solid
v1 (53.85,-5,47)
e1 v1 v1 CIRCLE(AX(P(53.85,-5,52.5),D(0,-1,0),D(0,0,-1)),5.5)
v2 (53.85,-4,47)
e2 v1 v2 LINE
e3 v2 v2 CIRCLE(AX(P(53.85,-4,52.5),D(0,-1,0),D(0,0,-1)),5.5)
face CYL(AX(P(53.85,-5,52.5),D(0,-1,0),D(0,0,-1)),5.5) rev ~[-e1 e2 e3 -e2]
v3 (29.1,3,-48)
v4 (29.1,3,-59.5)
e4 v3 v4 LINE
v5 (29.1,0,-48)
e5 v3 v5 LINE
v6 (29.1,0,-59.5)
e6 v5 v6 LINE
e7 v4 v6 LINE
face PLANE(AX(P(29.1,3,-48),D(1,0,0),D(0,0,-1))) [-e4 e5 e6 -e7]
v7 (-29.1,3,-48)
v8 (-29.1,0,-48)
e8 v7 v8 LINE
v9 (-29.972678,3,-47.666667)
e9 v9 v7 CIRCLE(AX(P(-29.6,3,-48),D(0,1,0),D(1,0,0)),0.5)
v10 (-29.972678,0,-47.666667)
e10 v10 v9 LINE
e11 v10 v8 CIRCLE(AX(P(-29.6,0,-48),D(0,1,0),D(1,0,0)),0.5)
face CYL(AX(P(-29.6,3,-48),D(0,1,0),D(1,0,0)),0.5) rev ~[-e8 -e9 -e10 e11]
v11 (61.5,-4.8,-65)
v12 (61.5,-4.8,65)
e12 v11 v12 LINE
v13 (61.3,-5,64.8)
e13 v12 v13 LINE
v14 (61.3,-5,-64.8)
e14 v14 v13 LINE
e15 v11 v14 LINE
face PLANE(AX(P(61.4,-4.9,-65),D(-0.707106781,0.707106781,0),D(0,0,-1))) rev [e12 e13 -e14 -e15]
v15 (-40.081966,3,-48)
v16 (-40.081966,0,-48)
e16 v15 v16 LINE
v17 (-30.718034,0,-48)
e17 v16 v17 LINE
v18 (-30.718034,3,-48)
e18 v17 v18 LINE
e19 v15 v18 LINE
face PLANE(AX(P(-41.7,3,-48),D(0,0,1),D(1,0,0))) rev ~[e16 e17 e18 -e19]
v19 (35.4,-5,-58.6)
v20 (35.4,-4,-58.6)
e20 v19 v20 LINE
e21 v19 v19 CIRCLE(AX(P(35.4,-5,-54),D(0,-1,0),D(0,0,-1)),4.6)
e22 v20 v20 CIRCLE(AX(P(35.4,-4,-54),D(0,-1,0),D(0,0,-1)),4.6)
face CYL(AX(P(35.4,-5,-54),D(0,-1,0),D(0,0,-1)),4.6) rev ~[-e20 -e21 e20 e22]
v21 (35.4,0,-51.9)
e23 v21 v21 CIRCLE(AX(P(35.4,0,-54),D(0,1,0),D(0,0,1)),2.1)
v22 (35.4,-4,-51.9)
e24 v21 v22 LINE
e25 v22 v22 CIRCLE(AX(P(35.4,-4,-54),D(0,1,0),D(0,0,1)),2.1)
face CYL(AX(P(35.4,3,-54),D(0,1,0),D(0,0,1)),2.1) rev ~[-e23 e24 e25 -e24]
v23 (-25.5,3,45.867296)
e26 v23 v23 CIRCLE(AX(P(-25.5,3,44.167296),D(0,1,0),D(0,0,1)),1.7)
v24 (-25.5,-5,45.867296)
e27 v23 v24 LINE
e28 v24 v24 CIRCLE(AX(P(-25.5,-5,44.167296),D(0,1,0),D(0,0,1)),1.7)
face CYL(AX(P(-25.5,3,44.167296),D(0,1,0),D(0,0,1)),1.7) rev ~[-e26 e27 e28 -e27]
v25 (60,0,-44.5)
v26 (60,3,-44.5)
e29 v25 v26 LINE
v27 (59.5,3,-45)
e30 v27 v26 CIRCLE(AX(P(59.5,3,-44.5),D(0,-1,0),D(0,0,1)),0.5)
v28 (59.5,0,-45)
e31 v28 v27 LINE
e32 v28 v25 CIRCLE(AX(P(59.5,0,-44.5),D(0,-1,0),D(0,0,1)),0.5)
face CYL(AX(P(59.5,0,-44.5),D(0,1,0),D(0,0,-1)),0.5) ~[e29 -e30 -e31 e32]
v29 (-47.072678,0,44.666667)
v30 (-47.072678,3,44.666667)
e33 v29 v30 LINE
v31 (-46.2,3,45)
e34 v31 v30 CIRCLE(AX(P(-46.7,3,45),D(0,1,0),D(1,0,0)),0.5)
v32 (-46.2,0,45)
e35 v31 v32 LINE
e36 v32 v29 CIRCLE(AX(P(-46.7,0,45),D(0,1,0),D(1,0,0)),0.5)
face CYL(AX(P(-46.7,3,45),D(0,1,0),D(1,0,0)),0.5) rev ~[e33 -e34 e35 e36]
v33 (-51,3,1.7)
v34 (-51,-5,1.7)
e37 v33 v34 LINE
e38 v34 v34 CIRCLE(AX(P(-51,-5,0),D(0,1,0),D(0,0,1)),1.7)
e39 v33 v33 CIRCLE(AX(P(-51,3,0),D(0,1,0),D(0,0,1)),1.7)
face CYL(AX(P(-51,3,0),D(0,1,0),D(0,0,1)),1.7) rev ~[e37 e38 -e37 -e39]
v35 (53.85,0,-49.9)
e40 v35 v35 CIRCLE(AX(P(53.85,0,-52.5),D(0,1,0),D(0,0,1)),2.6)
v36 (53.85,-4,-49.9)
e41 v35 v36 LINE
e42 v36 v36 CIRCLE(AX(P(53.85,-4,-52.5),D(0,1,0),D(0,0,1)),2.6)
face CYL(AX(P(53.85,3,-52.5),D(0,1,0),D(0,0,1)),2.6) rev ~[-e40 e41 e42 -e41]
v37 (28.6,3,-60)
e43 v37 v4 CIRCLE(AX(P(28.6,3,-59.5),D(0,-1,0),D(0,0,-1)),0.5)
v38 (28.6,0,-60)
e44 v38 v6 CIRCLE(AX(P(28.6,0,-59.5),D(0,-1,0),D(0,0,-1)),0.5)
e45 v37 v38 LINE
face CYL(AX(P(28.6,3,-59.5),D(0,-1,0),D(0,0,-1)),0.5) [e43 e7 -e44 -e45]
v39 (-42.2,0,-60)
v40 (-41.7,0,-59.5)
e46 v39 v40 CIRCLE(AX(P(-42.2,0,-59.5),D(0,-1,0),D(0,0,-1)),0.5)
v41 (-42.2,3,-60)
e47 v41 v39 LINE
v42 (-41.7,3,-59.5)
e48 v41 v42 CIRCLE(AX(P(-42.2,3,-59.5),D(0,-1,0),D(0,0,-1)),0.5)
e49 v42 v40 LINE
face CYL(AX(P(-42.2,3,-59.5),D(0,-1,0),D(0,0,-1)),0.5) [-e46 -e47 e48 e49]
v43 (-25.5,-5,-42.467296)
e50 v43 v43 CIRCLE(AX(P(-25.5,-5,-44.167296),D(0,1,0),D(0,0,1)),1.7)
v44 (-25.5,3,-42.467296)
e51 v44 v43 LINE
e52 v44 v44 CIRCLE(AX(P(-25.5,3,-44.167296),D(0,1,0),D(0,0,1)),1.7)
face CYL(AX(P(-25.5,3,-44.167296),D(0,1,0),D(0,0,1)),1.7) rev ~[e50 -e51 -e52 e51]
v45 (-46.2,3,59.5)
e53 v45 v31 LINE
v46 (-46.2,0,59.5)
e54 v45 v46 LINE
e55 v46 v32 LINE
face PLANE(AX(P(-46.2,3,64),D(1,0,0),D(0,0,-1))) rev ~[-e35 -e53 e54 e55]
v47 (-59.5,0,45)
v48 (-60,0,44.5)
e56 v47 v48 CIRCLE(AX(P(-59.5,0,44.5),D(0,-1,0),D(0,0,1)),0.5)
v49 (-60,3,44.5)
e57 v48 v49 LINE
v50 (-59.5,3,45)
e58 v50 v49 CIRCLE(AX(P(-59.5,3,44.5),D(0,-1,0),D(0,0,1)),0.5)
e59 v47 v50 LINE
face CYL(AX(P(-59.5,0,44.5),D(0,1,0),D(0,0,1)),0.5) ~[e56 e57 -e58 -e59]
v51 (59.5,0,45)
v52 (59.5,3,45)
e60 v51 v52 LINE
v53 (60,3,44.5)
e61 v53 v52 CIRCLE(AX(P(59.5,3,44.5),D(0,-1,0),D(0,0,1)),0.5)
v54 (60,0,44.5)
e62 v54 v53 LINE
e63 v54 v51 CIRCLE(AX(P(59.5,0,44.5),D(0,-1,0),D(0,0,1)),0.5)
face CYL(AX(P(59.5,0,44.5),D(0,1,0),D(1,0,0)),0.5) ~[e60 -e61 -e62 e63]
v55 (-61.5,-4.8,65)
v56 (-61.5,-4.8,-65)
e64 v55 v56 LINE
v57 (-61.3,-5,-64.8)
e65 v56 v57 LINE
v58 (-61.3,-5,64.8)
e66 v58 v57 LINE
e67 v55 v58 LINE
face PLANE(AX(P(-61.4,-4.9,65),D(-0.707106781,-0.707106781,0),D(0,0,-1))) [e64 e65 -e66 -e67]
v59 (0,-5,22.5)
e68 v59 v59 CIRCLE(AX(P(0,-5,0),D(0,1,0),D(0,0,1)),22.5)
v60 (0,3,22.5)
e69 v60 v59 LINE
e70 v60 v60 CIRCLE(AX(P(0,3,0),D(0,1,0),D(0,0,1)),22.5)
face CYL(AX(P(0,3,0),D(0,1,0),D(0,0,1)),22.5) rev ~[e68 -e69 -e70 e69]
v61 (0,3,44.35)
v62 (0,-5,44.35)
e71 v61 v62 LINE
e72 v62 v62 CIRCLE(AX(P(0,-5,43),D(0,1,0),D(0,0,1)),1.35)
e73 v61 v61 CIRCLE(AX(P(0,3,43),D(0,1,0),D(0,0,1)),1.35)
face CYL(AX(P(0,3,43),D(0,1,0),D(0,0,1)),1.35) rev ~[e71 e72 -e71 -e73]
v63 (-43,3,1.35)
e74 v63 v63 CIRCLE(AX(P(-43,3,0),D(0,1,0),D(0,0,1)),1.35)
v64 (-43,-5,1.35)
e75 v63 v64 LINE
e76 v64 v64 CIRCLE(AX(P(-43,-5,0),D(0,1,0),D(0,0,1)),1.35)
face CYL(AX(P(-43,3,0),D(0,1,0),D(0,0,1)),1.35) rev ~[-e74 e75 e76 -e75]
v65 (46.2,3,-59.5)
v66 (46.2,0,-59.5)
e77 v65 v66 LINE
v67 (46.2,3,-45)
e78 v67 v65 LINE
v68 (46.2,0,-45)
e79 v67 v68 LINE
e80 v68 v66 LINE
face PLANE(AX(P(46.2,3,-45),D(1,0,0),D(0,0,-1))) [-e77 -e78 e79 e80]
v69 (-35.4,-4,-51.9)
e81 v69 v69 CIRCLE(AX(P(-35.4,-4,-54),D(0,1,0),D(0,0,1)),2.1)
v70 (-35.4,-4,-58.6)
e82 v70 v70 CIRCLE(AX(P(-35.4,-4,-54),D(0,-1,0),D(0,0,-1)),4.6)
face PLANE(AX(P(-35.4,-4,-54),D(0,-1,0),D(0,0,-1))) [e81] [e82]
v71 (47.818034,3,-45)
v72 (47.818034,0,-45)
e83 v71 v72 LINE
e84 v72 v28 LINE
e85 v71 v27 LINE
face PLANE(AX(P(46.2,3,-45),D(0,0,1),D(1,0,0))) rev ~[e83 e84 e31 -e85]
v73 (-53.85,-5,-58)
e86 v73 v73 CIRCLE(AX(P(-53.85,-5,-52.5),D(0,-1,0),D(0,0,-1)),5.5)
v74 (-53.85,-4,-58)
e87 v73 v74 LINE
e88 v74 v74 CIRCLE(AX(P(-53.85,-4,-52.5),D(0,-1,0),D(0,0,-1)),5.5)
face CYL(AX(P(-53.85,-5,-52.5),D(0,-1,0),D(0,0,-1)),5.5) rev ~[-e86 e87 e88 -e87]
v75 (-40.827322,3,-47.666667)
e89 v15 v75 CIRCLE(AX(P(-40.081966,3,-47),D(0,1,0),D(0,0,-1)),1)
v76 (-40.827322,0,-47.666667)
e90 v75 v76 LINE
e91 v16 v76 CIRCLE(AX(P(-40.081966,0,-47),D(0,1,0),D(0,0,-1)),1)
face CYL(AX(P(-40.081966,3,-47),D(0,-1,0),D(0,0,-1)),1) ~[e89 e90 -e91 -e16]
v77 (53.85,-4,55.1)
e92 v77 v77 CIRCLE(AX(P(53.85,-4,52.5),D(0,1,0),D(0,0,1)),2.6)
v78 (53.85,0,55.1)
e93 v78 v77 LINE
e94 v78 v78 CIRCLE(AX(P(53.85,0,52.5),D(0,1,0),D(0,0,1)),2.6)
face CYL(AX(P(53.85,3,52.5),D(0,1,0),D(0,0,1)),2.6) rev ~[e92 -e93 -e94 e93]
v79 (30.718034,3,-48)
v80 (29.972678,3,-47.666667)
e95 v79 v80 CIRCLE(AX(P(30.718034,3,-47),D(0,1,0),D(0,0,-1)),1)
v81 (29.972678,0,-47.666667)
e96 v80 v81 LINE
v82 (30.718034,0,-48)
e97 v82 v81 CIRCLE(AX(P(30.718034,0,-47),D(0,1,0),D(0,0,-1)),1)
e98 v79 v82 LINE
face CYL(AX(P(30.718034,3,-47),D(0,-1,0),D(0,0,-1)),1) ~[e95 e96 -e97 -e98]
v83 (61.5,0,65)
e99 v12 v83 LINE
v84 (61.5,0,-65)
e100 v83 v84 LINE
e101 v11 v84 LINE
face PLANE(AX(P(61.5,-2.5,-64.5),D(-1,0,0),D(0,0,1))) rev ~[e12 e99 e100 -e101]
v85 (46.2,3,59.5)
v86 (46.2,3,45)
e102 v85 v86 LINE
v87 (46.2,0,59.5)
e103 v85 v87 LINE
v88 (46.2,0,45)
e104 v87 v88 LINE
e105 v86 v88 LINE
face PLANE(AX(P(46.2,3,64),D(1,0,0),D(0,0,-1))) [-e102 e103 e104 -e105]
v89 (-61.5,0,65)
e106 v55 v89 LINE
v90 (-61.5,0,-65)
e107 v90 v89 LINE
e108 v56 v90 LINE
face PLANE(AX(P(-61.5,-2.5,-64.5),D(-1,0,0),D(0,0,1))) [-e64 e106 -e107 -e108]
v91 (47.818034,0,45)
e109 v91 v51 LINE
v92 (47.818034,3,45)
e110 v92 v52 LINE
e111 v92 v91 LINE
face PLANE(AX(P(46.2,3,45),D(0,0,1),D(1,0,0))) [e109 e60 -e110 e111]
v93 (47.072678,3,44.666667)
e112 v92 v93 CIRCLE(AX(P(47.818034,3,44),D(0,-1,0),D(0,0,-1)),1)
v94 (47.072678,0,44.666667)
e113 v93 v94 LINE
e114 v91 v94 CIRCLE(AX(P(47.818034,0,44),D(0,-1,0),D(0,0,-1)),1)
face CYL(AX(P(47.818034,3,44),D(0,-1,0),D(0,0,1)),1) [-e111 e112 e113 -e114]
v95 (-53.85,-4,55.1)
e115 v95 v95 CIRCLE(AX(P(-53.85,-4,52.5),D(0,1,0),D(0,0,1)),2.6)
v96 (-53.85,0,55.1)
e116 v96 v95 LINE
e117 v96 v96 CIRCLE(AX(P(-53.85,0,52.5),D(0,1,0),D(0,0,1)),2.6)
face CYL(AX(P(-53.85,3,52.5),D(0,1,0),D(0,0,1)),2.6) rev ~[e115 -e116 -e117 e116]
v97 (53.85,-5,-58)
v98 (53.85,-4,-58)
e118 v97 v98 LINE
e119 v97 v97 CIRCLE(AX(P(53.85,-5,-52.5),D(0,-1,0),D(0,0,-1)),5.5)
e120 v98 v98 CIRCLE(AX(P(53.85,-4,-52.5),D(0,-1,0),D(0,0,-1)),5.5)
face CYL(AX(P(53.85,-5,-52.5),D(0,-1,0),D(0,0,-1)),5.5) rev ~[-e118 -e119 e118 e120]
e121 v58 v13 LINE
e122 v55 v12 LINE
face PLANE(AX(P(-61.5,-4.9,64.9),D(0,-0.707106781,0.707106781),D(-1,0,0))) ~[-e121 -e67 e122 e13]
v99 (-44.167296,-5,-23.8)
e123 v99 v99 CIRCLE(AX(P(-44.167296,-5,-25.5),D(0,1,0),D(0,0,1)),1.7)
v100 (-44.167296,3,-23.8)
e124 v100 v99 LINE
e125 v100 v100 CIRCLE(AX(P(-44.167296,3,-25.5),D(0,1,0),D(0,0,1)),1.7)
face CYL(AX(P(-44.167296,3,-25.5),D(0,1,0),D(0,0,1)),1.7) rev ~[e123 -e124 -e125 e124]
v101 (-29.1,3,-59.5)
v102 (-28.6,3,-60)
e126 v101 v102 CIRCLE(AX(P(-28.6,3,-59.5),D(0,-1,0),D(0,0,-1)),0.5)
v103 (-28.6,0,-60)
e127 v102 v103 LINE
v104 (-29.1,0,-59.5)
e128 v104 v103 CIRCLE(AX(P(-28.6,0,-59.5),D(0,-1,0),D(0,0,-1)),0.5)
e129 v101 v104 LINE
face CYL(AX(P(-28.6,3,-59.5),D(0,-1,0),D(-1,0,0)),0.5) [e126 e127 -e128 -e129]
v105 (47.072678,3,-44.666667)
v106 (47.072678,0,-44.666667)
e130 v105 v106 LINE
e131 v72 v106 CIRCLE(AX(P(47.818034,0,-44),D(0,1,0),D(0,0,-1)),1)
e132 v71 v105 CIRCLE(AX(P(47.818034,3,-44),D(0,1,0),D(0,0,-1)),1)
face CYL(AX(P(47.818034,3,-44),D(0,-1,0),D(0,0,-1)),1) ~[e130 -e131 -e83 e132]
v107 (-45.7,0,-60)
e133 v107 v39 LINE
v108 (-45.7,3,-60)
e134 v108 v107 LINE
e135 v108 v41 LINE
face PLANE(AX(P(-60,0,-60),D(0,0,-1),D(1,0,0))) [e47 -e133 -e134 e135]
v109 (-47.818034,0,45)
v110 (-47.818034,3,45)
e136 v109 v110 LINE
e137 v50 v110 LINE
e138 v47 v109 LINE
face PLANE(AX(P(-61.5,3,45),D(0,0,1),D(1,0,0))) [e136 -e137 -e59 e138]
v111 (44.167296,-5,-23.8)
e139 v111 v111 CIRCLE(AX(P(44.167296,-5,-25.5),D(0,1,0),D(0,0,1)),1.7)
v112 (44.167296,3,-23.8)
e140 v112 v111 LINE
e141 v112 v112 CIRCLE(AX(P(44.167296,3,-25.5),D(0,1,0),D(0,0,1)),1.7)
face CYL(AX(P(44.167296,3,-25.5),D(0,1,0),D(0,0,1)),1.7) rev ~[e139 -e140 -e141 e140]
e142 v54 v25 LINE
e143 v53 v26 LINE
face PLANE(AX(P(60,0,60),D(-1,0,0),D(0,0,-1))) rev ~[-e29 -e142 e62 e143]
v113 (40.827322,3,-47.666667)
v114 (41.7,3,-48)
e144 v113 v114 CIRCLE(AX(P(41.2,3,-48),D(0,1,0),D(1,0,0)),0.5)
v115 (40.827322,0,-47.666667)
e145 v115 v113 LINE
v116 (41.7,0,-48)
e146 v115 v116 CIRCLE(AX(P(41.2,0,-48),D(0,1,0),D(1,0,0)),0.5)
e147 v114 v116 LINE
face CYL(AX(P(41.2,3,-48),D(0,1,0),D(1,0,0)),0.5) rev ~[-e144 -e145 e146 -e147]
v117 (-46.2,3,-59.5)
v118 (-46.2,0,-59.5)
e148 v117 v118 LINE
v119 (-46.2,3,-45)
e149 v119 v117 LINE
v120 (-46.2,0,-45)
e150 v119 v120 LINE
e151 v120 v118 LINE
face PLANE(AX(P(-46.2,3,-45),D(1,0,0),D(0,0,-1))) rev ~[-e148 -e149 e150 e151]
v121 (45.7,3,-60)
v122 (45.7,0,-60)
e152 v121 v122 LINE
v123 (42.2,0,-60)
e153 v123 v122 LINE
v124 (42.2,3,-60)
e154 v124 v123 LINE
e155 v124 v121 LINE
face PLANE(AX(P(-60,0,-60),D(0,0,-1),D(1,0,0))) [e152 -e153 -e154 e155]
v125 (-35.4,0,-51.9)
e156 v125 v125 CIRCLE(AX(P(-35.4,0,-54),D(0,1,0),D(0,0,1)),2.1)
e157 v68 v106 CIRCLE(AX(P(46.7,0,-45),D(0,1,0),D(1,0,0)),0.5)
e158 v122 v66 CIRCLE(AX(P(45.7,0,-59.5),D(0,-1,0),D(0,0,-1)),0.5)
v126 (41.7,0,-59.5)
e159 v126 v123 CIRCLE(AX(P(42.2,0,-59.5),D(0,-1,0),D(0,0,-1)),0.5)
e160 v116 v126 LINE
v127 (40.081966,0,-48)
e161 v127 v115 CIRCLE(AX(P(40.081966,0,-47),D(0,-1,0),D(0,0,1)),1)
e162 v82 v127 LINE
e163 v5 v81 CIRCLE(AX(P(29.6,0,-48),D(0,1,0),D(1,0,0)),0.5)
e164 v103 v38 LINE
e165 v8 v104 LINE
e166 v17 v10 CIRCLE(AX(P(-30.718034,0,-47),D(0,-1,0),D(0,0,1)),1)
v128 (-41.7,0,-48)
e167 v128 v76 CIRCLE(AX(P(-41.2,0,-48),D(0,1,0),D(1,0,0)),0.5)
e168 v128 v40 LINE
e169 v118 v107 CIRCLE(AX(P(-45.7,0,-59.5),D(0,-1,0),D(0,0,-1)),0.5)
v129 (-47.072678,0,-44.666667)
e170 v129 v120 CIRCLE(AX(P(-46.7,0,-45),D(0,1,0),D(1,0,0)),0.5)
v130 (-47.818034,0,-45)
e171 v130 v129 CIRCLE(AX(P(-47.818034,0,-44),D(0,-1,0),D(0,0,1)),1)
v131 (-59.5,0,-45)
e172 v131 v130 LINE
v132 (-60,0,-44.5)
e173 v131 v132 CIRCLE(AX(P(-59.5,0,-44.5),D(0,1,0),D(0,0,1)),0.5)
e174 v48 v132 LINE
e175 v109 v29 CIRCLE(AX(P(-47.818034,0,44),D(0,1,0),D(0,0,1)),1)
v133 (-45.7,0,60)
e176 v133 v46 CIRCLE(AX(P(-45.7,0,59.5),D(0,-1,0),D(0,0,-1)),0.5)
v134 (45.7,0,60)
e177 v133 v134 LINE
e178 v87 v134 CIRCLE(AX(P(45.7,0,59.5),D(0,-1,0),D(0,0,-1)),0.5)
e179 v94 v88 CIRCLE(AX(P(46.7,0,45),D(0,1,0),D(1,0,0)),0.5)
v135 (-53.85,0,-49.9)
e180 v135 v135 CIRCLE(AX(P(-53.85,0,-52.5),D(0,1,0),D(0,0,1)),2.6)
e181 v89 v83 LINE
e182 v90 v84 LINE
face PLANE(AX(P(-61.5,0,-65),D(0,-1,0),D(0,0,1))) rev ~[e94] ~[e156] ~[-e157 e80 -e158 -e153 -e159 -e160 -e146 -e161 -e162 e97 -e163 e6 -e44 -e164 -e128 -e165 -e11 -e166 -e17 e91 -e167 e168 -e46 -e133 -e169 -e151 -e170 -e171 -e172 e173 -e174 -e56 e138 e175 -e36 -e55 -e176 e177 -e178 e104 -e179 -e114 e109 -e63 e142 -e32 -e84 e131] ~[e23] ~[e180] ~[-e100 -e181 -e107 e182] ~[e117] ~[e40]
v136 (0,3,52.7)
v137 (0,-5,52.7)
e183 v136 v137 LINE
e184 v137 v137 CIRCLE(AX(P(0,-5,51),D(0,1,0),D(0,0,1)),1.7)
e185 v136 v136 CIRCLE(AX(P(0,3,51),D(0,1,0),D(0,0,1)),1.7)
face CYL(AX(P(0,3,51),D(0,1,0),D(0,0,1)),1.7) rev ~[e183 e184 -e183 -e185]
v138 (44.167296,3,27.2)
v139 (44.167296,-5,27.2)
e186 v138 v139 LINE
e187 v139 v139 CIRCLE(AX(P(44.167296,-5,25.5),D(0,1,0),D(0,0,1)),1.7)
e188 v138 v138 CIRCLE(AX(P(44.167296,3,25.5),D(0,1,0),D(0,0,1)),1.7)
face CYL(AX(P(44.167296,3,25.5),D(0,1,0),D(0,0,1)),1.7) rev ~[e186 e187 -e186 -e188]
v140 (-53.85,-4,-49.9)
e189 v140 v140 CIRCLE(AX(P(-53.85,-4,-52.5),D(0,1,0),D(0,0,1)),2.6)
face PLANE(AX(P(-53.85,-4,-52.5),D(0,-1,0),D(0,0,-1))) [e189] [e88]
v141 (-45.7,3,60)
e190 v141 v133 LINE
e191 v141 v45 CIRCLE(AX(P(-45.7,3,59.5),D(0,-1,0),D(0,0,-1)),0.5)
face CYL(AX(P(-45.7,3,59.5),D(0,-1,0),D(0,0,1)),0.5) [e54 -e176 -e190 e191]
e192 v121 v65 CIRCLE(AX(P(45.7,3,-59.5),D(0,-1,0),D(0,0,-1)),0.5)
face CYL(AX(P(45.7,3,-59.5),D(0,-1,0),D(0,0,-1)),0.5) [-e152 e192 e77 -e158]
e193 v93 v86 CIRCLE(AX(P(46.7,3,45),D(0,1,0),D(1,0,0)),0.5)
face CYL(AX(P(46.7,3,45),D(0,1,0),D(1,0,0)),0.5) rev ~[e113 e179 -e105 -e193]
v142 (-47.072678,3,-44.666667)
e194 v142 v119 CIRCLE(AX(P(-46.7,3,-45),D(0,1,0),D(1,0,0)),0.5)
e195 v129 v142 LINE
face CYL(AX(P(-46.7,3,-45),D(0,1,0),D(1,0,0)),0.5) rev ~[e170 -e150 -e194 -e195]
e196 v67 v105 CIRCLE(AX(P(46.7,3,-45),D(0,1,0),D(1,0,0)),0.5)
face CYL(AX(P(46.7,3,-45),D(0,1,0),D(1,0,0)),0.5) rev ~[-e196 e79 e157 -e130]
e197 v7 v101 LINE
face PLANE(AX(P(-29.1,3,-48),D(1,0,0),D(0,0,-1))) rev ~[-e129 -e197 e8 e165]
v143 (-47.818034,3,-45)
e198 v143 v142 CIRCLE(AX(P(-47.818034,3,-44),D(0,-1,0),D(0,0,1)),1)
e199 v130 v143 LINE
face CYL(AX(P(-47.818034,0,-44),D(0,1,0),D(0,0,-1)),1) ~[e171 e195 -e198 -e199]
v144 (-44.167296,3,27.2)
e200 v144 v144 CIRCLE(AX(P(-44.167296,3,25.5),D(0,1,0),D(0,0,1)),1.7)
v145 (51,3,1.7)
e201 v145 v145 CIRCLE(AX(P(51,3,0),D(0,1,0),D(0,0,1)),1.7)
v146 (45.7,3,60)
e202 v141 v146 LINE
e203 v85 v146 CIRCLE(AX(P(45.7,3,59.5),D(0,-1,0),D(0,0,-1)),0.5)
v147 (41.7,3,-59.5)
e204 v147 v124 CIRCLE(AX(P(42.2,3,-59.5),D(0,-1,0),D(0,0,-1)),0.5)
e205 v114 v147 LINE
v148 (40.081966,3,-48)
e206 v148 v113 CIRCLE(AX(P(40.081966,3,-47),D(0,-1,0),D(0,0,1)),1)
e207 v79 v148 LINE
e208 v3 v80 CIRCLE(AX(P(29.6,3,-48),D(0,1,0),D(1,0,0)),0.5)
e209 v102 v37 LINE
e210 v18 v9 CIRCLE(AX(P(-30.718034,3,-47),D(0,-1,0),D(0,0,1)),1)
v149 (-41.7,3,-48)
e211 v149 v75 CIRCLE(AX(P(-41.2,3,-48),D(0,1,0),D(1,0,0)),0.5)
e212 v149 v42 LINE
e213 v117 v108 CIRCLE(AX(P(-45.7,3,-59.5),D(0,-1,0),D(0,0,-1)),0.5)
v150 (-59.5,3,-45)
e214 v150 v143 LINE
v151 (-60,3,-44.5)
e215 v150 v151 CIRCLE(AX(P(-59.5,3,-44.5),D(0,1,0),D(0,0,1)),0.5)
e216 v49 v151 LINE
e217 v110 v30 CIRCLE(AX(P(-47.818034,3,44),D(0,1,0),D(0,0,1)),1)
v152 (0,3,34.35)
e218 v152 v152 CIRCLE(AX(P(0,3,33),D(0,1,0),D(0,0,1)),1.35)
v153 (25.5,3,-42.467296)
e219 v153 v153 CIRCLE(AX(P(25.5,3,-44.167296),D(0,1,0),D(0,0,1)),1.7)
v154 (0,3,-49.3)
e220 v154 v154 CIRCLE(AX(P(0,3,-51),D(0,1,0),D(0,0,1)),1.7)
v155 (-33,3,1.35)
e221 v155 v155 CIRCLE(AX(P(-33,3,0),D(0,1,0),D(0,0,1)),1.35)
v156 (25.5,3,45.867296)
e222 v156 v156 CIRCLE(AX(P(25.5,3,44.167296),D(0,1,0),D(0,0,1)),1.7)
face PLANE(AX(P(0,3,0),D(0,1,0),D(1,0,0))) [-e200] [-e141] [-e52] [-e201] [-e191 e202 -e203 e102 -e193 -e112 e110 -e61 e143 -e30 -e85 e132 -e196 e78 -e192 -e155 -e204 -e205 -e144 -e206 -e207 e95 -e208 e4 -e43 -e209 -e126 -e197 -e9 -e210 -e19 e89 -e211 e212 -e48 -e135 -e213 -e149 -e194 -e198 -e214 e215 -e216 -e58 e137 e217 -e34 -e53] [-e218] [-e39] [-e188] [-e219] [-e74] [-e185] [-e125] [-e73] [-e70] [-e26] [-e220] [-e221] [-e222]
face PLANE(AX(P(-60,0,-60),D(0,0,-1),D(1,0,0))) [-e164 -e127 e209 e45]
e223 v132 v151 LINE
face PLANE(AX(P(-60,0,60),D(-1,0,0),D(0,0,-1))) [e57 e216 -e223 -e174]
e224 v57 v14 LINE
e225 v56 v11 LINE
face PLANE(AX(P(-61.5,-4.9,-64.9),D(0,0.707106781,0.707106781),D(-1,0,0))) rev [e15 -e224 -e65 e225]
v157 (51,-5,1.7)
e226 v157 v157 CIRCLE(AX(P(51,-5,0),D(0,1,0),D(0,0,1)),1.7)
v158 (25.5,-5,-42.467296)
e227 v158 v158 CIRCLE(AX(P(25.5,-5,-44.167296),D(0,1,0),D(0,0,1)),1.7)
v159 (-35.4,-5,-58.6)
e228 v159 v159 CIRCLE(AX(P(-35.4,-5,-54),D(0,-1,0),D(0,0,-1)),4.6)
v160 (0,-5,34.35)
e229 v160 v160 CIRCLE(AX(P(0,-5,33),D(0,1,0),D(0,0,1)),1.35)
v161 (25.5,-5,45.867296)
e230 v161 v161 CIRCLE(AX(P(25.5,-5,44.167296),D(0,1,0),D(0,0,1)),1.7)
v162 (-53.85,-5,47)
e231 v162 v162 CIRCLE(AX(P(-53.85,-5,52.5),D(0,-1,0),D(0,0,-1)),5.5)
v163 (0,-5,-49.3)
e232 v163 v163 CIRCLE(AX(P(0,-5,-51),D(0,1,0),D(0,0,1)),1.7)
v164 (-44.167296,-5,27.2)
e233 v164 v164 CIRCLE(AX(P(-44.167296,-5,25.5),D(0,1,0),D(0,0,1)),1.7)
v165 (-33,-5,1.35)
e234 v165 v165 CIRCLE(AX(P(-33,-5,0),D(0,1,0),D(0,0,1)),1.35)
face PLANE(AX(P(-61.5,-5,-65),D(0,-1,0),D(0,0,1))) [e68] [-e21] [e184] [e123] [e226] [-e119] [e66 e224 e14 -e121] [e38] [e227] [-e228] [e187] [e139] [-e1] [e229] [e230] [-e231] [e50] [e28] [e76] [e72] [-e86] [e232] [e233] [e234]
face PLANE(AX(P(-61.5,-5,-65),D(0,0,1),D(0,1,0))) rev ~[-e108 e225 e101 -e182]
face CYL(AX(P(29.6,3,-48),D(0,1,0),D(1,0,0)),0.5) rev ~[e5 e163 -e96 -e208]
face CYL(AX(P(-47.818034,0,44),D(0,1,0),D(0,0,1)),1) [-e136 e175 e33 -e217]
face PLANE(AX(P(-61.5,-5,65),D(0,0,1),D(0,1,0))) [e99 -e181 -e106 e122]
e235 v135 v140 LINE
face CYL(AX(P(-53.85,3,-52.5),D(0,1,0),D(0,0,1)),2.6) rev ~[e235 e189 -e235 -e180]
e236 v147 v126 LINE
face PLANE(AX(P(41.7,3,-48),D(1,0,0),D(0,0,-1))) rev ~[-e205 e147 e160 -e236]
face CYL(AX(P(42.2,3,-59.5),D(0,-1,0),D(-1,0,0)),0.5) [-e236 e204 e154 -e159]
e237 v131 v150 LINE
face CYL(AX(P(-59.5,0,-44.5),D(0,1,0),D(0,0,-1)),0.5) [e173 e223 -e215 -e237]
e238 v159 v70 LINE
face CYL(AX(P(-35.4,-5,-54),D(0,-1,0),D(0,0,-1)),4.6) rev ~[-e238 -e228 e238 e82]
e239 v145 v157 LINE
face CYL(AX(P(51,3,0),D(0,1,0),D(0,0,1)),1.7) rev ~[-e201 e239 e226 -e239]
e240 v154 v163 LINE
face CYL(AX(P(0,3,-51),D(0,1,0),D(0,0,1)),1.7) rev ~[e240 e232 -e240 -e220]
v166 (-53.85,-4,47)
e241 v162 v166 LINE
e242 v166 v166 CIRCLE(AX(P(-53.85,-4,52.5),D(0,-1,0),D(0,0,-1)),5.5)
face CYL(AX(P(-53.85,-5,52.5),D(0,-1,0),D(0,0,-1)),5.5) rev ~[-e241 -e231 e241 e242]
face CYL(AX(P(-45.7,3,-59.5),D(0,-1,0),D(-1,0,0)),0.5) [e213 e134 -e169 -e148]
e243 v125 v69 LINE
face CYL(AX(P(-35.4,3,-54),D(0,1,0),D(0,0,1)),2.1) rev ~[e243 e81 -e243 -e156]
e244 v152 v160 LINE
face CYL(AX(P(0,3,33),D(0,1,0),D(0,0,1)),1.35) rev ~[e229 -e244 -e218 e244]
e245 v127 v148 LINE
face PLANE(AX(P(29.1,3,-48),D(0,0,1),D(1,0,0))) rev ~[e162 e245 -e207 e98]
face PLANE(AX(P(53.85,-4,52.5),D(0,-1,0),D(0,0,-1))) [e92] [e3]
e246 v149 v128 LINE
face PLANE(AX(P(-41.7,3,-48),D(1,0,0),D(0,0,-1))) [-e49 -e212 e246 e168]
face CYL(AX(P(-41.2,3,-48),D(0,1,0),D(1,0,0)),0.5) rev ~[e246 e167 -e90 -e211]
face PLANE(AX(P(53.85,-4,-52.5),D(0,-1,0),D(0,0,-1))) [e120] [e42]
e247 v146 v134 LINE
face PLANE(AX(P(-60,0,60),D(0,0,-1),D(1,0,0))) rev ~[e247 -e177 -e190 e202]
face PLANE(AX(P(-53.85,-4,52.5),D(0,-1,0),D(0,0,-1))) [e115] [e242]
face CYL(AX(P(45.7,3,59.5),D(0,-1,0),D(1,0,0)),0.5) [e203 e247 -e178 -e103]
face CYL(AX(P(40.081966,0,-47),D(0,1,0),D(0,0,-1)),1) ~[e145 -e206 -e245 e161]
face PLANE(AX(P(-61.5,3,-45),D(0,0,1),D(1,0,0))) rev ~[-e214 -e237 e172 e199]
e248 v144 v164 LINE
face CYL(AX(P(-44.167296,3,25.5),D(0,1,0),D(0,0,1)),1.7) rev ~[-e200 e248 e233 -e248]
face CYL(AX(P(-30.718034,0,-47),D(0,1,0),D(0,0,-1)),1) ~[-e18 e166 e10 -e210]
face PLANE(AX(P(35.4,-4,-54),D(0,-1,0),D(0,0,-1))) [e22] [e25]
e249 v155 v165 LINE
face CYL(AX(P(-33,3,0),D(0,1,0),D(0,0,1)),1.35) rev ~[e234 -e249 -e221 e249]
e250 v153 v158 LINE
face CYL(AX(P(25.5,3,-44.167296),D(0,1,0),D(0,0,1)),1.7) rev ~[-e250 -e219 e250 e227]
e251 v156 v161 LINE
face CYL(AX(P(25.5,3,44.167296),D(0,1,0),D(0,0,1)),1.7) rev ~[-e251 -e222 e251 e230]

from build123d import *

# Parameters (mm, degrees)
SKETCH_1_W           = 120
SKETCH_1_H           = 120
EXTRUDE_1_DEPTH      = 3
SKETCH_2_W           = 123
SKETCH_2_H           = 128
EXTRUDE_2_DEPTH      = 5
SKETCH_4_R           = 22.5
CUT_EXTRUDE_2_DEPTH  = 90.119302062
SKETCH_5_W           = 15.3
SKETCH_5_H           = 19
SKETCH_5_W_2         = 12.6
SKETCH_5_H_2         = 16
CUT_EXTRUDE_3_DEPTH  = 3
SKETCH_3_R           = 1.7
CUT_EXTRUDE_5_DEPTH  = 90.119302062
SKETCH_15_R          = 1.35
CUT_EXTRUDE_7_DEPTH  = 90.119302062
SKETCH_20_R          = 2.6
SKETCH_20_R_2        = 2.1
CUT_EXTRUDE_14_DEPTH = 90.119302062
SKETCH_21_R          = 5.5
SKETCH_21_R_2        = 4.6
CUT_EXTRUDE_15_DEPTH = 1
SKETCH_23_W          = 1
SKETCH_23_H          = 5
EXTRUDE_5_DEPTH      = 123
FILLET_1_R           = 0.5
SKETCH_25_R          = 0.5
CUT_EXTRUDE_17_DEPTH = 3
FILLET_2_R           = 1
CHAMFER_1_SIZE       = 0.2


with BuildPart() as part:
    # 草图1 → 凸台-拉伸1 (new body)
    with BuildSketch(Plane(origin=(0, 0, 0), x_dir=(1, 0, 0), z_dir=(0, 1, 0))):
        Rectangle(SKETCH_1_W, SKETCH_1_H)
    extrude(amount=EXTRUDE_1_DEPTH)

    # 草图2 → 凸台-拉伸2 (add)
    with BuildSketch(Plane.XZ):
        Rectangle(SKETCH_2_W, SKETCH_2_H)
    extrude(amount=EXTRUDE_2_DEPTH)

    # 草图4 → 切除-拉伸2 (cut, through all)
    with BuildSketch(Plane(origin=(0, 3, 0), x_dir=(1, 0, 0), z_dir=(0, 1, 0))):
        with Locations(Location((0, 0, 0), (0, 0, 270))):
            Circle(SKETCH_4_R)
    extrude(amount=-CUT_EXTRUDE_2_DEPTH, mode=Mode.SUBTRACT)

    # 草图5 → 切除-拉伸3 (cut)
    with BuildSketch(Plane(origin=(0, 3, 0), x_dir=(1, 0, 0), z_dir=(0, 1, 0))):
        with Locations((-53.85, 54.5)):
            Rectangle(SKETCH_5_W, SKETCH_5_H)
        with Locations((35.4, 56)):
            Rectangle(SKETCH_5_W_2, SKETCH_5_H_2)
        with Locations((53.85, 54.5)):
            Rectangle(SKETCH_5_W, SKETCH_5_H)
        with Locations((-35.4, 56)):
            Rectangle(SKETCH_5_W_2, SKETCH_5_H_2)
        with Locations((-53.85, -54.5)):
            Rectangle(SKETCH_5_W, SKETCH_5_H)
        with Locations((53.85, -54.5)):
            Rectangle(SKETCH_5_W, SKETCH_5_H)
    extrude(amount=-CUT_EXTRUDE_3_DEPTH, mode=Mode.SUBTRACT)

    # 草图3 → 切除-拉伸5 (cut, through all)
    with BuildSketch(Plane(origin=(0, 3, 0), x_dir=(1, 0, 0), z_dir=(0, 1, 0))):
        with Locations(Location((0, 51, 0), (0, 0, 270))):
            Circle(SKETCH_3_R)
        with Locations(Location((25.5, 44.167295593, 0), (0, 0, 270))):
            Circle(SKETCH_3_R)
        with Locations(Location((44.167295593, 25.5, 0), (0, 0, 270))):
            Circle(SKETCH_3_R)
        with Locations(Location((51, 0, 0), (0, 0, 270))):
            Circle(SKETCH_3_R)
        with Locations(Location((44.167295593, -25.5, 0), (0, 0, 270))):
            Circle(SKETCH_3_R)
        with Locations(Location((25.5, -44.167295593, 0), (0, 0, 270))):
            Circle(SKETCH_3_R)
        with Locations(Location((0, -51, 0), (0, 0, 270))):
            Circle(SKETCH_3_R)
        with Locations(Location((-25.5, -44.167295593, 0), (0, 0, 270))):
            Circle(SKETCH_3_R)
        with Locations(Location((-44.167295593, -25.5, 0), (0, 0, 270))):
            Circle(SKETCH_3_R)
        with Locations(Location((-51, 0, 0), (0, 0, 270))):
            Circle(SKETCH_3_R)
        with Locations(Location((-44.167295593, 25.5, 0), (0, 0, 270))):
            Circle(SKETCH_3_R)
        with Locations(Location((-25.5, 44.167295593, 0), (0, 0, 270))):
            Circle(SKETCH_3_R)
    extrude(amount=-CUT_EXTRUDE_5_DEPTH, mode=Mode.SUBTRACT)

    # 草图15 → 切除-拉伸7 (cut, through all)
    with BuildSketch(Plane(origin=(0, 3, 0), x_dir=(1, 0, 0), z_dir=(0, 1, 0))):
        with Locations(Location((0, -33, 0), (0, 0, 270))):
            Circle(SKETCH_15_R)
        with Locations(Location((0, -43, 0), (0, 0, 270))):
            Circle(SKETCH_15_R)
        with Locations(Location((-33, 0, 0), (0, 0, 270))):
            Circle(SKETCH_15_R)
        with Locations(Location((-43, 0, 0), (0, 0, 270))):
            Circle(SKETCH_15_R)
    extrude(amount=-CUT_EXTRUDE_7_DEPTH, mode=Mode.SUBTRACT)

    # 草图20 → 切除-拉伸14 (cut, through all)
    with BuildSketch(Plane(origin=(0, 3, 0), x_dir=(1, 0, 0), z_dir=(0, 1, 0))):
        with Locations(Location((-53.85, 52.5, 0), (0, 0, 270))):
            Circle(SKETCH_20_R)
        with Locations(Location((-53.85, -52.5, 0), (0, 0, 270))):
            Circle(SKETCH_20_R)
        with Locations(Location((53.85, -52.5, 0), (0, 0, 270))):
            Circle(SKETCH_20_R)
        with Locations(Location((53.85, 52.5, 0), (0, 0, 270))):
            Circle(SKETCH_20_R)
        with Locations(Location((-35.4, 54, 0), (0, 0, 270))):
            Circle(SKETCH_20_R_2)
        with Locations(Location((35.4, 54, 0), (0, 0, 270))):
            Circle(SKETCH_20_R_2)
    extrude(amount=-CUT_EXTRUDE_14_DEPTH, mode=Mode.SUBTRACT)

    # 草图21 → 切除-拉伸15 (cut)
    with BuildSketch(Plane.XZ.offset(5)):
        with Locations(Location((53.85, -52.5, 0), (0, 0, 270))):
            Circle(SKETCH_21_R)
        with Locations(Location((35.4, -54, 0), (0, 0, 270))):
            Circle(SKETCH_21_R_2)
        with Locations(Location((-35.4, -54, 0), (0, 0, 270))):
            Circle(SKETCH_21_R_2)
        with Locations(Location((-53.85, -52.5, 0), (0, 0, 270))):
            Circle(SKETCH_21_R)
        with Locations(Location((-53.85, 52.5, 0), (0, 0, 270))):
            Circle(SKETCH_21_R)
        with Locations(Location((53.85, 52.5, 0), (0, 0, 270))):
            Circle(SKETCH_21_R)
    extrude(amount=-CUT_EXTRUDE_15_DEPTH, mode=Mode.SUBTRACT)

    # 草图23 → 凸台-拉伸5 (add)
    with BuildSketch(Plane.ZY.offset(61.5)):
        with Locations((-64.5, -2.5)):
            Rectangle(SKETCH_23_W, SKETCH_23_H)
        with Locations((64.5, -2.5)):
            Rectangle(SKETCH_23_W, SKETCH_23_H)
    extrude(amount=-EXTRUDE_5_DEPTH)

    # 圆角1
    fillet_1_edges = [part.edges().sort_by_distance(p)[0] for p in [
        (46.2, 1.5, 60),
        (60, 1.5, 45),
        (-46.2, 1.5, -60),
        (-60, 1.5, -45),
        (-60, 1.5, 45),
        (-46.2, 1.5, 60),
        (41.7, 1.5, -60),
        (29.1, 1.5, -60),
        (-29.1, 1.5, -60),
        (-41.7, 1.5, -60),
        (60, 1.5, -45),
        (46.2, 1.5, -60),
    ]]
    fillet(fillet_1_edges, radius=FILLET_1_R)

    # 草图25 → 切除-拉伸17 (cut)
    with BuildSketch(Plane(origin=(0, 3, 0), x_dir=(1, 0, 0), z_dir=(0, 1, 0))):
        with Locations((-46.7, 45)):
            Circle(SKETCH_25_R)
        with Locations((-41.2, 48)):
            Circle(SKETCH_25_R)
        with Locations((41.2, 48)):
            Circle(SKETCH_25_R)
        with Locations((46.7, 45)):
            Circle(SKETCH_25_R)
        with Locations((-46.7, -45)):
            Circle(SKETCH_25_R)
        with Locations((46.7, -45)):
            Circle(SKETCH_25_R)
        with Locations((-29.6, 48)):
            Circle(SKETCH_25_R)
        with Locations((29.6, 48)):
            Circle(SKETCH_25_R)
    extrude(amount=-CUT_EXTRUDE_17_DEPTH, mode=Mode.SUBTRACT)

    # 圆角2
    fillet_2_edges = [part.edges().sort_by_distance(p)[0] for p in [
        (30.1, 1.5, -48),
        (40.7, 1.5, -48),
        (-30.1, 1.5, -48),
        (-40.7, 1.5, -48),
        (47.2, 1.5, 45),
        (-47.2, 1.5, -45),
        (47.2, 1.5, -45),
        (-47.2, 1.5, 45),
    ]]
    fillet(fillet_2_edges, radius=FILLET_2_R)

    # 倒角1
    chamfer_1_edges = [part.edges().sort_by_distance(p)[0] for p in [
        (61.5, -5, 0),
        (-61.5, -5, 0),
        (0, -5, -65),
        (0, -5, 65),
    ]]
    chamfer(chamfer_1_edges, length=CHAMFER_1_SIZE)


solid = part.part
